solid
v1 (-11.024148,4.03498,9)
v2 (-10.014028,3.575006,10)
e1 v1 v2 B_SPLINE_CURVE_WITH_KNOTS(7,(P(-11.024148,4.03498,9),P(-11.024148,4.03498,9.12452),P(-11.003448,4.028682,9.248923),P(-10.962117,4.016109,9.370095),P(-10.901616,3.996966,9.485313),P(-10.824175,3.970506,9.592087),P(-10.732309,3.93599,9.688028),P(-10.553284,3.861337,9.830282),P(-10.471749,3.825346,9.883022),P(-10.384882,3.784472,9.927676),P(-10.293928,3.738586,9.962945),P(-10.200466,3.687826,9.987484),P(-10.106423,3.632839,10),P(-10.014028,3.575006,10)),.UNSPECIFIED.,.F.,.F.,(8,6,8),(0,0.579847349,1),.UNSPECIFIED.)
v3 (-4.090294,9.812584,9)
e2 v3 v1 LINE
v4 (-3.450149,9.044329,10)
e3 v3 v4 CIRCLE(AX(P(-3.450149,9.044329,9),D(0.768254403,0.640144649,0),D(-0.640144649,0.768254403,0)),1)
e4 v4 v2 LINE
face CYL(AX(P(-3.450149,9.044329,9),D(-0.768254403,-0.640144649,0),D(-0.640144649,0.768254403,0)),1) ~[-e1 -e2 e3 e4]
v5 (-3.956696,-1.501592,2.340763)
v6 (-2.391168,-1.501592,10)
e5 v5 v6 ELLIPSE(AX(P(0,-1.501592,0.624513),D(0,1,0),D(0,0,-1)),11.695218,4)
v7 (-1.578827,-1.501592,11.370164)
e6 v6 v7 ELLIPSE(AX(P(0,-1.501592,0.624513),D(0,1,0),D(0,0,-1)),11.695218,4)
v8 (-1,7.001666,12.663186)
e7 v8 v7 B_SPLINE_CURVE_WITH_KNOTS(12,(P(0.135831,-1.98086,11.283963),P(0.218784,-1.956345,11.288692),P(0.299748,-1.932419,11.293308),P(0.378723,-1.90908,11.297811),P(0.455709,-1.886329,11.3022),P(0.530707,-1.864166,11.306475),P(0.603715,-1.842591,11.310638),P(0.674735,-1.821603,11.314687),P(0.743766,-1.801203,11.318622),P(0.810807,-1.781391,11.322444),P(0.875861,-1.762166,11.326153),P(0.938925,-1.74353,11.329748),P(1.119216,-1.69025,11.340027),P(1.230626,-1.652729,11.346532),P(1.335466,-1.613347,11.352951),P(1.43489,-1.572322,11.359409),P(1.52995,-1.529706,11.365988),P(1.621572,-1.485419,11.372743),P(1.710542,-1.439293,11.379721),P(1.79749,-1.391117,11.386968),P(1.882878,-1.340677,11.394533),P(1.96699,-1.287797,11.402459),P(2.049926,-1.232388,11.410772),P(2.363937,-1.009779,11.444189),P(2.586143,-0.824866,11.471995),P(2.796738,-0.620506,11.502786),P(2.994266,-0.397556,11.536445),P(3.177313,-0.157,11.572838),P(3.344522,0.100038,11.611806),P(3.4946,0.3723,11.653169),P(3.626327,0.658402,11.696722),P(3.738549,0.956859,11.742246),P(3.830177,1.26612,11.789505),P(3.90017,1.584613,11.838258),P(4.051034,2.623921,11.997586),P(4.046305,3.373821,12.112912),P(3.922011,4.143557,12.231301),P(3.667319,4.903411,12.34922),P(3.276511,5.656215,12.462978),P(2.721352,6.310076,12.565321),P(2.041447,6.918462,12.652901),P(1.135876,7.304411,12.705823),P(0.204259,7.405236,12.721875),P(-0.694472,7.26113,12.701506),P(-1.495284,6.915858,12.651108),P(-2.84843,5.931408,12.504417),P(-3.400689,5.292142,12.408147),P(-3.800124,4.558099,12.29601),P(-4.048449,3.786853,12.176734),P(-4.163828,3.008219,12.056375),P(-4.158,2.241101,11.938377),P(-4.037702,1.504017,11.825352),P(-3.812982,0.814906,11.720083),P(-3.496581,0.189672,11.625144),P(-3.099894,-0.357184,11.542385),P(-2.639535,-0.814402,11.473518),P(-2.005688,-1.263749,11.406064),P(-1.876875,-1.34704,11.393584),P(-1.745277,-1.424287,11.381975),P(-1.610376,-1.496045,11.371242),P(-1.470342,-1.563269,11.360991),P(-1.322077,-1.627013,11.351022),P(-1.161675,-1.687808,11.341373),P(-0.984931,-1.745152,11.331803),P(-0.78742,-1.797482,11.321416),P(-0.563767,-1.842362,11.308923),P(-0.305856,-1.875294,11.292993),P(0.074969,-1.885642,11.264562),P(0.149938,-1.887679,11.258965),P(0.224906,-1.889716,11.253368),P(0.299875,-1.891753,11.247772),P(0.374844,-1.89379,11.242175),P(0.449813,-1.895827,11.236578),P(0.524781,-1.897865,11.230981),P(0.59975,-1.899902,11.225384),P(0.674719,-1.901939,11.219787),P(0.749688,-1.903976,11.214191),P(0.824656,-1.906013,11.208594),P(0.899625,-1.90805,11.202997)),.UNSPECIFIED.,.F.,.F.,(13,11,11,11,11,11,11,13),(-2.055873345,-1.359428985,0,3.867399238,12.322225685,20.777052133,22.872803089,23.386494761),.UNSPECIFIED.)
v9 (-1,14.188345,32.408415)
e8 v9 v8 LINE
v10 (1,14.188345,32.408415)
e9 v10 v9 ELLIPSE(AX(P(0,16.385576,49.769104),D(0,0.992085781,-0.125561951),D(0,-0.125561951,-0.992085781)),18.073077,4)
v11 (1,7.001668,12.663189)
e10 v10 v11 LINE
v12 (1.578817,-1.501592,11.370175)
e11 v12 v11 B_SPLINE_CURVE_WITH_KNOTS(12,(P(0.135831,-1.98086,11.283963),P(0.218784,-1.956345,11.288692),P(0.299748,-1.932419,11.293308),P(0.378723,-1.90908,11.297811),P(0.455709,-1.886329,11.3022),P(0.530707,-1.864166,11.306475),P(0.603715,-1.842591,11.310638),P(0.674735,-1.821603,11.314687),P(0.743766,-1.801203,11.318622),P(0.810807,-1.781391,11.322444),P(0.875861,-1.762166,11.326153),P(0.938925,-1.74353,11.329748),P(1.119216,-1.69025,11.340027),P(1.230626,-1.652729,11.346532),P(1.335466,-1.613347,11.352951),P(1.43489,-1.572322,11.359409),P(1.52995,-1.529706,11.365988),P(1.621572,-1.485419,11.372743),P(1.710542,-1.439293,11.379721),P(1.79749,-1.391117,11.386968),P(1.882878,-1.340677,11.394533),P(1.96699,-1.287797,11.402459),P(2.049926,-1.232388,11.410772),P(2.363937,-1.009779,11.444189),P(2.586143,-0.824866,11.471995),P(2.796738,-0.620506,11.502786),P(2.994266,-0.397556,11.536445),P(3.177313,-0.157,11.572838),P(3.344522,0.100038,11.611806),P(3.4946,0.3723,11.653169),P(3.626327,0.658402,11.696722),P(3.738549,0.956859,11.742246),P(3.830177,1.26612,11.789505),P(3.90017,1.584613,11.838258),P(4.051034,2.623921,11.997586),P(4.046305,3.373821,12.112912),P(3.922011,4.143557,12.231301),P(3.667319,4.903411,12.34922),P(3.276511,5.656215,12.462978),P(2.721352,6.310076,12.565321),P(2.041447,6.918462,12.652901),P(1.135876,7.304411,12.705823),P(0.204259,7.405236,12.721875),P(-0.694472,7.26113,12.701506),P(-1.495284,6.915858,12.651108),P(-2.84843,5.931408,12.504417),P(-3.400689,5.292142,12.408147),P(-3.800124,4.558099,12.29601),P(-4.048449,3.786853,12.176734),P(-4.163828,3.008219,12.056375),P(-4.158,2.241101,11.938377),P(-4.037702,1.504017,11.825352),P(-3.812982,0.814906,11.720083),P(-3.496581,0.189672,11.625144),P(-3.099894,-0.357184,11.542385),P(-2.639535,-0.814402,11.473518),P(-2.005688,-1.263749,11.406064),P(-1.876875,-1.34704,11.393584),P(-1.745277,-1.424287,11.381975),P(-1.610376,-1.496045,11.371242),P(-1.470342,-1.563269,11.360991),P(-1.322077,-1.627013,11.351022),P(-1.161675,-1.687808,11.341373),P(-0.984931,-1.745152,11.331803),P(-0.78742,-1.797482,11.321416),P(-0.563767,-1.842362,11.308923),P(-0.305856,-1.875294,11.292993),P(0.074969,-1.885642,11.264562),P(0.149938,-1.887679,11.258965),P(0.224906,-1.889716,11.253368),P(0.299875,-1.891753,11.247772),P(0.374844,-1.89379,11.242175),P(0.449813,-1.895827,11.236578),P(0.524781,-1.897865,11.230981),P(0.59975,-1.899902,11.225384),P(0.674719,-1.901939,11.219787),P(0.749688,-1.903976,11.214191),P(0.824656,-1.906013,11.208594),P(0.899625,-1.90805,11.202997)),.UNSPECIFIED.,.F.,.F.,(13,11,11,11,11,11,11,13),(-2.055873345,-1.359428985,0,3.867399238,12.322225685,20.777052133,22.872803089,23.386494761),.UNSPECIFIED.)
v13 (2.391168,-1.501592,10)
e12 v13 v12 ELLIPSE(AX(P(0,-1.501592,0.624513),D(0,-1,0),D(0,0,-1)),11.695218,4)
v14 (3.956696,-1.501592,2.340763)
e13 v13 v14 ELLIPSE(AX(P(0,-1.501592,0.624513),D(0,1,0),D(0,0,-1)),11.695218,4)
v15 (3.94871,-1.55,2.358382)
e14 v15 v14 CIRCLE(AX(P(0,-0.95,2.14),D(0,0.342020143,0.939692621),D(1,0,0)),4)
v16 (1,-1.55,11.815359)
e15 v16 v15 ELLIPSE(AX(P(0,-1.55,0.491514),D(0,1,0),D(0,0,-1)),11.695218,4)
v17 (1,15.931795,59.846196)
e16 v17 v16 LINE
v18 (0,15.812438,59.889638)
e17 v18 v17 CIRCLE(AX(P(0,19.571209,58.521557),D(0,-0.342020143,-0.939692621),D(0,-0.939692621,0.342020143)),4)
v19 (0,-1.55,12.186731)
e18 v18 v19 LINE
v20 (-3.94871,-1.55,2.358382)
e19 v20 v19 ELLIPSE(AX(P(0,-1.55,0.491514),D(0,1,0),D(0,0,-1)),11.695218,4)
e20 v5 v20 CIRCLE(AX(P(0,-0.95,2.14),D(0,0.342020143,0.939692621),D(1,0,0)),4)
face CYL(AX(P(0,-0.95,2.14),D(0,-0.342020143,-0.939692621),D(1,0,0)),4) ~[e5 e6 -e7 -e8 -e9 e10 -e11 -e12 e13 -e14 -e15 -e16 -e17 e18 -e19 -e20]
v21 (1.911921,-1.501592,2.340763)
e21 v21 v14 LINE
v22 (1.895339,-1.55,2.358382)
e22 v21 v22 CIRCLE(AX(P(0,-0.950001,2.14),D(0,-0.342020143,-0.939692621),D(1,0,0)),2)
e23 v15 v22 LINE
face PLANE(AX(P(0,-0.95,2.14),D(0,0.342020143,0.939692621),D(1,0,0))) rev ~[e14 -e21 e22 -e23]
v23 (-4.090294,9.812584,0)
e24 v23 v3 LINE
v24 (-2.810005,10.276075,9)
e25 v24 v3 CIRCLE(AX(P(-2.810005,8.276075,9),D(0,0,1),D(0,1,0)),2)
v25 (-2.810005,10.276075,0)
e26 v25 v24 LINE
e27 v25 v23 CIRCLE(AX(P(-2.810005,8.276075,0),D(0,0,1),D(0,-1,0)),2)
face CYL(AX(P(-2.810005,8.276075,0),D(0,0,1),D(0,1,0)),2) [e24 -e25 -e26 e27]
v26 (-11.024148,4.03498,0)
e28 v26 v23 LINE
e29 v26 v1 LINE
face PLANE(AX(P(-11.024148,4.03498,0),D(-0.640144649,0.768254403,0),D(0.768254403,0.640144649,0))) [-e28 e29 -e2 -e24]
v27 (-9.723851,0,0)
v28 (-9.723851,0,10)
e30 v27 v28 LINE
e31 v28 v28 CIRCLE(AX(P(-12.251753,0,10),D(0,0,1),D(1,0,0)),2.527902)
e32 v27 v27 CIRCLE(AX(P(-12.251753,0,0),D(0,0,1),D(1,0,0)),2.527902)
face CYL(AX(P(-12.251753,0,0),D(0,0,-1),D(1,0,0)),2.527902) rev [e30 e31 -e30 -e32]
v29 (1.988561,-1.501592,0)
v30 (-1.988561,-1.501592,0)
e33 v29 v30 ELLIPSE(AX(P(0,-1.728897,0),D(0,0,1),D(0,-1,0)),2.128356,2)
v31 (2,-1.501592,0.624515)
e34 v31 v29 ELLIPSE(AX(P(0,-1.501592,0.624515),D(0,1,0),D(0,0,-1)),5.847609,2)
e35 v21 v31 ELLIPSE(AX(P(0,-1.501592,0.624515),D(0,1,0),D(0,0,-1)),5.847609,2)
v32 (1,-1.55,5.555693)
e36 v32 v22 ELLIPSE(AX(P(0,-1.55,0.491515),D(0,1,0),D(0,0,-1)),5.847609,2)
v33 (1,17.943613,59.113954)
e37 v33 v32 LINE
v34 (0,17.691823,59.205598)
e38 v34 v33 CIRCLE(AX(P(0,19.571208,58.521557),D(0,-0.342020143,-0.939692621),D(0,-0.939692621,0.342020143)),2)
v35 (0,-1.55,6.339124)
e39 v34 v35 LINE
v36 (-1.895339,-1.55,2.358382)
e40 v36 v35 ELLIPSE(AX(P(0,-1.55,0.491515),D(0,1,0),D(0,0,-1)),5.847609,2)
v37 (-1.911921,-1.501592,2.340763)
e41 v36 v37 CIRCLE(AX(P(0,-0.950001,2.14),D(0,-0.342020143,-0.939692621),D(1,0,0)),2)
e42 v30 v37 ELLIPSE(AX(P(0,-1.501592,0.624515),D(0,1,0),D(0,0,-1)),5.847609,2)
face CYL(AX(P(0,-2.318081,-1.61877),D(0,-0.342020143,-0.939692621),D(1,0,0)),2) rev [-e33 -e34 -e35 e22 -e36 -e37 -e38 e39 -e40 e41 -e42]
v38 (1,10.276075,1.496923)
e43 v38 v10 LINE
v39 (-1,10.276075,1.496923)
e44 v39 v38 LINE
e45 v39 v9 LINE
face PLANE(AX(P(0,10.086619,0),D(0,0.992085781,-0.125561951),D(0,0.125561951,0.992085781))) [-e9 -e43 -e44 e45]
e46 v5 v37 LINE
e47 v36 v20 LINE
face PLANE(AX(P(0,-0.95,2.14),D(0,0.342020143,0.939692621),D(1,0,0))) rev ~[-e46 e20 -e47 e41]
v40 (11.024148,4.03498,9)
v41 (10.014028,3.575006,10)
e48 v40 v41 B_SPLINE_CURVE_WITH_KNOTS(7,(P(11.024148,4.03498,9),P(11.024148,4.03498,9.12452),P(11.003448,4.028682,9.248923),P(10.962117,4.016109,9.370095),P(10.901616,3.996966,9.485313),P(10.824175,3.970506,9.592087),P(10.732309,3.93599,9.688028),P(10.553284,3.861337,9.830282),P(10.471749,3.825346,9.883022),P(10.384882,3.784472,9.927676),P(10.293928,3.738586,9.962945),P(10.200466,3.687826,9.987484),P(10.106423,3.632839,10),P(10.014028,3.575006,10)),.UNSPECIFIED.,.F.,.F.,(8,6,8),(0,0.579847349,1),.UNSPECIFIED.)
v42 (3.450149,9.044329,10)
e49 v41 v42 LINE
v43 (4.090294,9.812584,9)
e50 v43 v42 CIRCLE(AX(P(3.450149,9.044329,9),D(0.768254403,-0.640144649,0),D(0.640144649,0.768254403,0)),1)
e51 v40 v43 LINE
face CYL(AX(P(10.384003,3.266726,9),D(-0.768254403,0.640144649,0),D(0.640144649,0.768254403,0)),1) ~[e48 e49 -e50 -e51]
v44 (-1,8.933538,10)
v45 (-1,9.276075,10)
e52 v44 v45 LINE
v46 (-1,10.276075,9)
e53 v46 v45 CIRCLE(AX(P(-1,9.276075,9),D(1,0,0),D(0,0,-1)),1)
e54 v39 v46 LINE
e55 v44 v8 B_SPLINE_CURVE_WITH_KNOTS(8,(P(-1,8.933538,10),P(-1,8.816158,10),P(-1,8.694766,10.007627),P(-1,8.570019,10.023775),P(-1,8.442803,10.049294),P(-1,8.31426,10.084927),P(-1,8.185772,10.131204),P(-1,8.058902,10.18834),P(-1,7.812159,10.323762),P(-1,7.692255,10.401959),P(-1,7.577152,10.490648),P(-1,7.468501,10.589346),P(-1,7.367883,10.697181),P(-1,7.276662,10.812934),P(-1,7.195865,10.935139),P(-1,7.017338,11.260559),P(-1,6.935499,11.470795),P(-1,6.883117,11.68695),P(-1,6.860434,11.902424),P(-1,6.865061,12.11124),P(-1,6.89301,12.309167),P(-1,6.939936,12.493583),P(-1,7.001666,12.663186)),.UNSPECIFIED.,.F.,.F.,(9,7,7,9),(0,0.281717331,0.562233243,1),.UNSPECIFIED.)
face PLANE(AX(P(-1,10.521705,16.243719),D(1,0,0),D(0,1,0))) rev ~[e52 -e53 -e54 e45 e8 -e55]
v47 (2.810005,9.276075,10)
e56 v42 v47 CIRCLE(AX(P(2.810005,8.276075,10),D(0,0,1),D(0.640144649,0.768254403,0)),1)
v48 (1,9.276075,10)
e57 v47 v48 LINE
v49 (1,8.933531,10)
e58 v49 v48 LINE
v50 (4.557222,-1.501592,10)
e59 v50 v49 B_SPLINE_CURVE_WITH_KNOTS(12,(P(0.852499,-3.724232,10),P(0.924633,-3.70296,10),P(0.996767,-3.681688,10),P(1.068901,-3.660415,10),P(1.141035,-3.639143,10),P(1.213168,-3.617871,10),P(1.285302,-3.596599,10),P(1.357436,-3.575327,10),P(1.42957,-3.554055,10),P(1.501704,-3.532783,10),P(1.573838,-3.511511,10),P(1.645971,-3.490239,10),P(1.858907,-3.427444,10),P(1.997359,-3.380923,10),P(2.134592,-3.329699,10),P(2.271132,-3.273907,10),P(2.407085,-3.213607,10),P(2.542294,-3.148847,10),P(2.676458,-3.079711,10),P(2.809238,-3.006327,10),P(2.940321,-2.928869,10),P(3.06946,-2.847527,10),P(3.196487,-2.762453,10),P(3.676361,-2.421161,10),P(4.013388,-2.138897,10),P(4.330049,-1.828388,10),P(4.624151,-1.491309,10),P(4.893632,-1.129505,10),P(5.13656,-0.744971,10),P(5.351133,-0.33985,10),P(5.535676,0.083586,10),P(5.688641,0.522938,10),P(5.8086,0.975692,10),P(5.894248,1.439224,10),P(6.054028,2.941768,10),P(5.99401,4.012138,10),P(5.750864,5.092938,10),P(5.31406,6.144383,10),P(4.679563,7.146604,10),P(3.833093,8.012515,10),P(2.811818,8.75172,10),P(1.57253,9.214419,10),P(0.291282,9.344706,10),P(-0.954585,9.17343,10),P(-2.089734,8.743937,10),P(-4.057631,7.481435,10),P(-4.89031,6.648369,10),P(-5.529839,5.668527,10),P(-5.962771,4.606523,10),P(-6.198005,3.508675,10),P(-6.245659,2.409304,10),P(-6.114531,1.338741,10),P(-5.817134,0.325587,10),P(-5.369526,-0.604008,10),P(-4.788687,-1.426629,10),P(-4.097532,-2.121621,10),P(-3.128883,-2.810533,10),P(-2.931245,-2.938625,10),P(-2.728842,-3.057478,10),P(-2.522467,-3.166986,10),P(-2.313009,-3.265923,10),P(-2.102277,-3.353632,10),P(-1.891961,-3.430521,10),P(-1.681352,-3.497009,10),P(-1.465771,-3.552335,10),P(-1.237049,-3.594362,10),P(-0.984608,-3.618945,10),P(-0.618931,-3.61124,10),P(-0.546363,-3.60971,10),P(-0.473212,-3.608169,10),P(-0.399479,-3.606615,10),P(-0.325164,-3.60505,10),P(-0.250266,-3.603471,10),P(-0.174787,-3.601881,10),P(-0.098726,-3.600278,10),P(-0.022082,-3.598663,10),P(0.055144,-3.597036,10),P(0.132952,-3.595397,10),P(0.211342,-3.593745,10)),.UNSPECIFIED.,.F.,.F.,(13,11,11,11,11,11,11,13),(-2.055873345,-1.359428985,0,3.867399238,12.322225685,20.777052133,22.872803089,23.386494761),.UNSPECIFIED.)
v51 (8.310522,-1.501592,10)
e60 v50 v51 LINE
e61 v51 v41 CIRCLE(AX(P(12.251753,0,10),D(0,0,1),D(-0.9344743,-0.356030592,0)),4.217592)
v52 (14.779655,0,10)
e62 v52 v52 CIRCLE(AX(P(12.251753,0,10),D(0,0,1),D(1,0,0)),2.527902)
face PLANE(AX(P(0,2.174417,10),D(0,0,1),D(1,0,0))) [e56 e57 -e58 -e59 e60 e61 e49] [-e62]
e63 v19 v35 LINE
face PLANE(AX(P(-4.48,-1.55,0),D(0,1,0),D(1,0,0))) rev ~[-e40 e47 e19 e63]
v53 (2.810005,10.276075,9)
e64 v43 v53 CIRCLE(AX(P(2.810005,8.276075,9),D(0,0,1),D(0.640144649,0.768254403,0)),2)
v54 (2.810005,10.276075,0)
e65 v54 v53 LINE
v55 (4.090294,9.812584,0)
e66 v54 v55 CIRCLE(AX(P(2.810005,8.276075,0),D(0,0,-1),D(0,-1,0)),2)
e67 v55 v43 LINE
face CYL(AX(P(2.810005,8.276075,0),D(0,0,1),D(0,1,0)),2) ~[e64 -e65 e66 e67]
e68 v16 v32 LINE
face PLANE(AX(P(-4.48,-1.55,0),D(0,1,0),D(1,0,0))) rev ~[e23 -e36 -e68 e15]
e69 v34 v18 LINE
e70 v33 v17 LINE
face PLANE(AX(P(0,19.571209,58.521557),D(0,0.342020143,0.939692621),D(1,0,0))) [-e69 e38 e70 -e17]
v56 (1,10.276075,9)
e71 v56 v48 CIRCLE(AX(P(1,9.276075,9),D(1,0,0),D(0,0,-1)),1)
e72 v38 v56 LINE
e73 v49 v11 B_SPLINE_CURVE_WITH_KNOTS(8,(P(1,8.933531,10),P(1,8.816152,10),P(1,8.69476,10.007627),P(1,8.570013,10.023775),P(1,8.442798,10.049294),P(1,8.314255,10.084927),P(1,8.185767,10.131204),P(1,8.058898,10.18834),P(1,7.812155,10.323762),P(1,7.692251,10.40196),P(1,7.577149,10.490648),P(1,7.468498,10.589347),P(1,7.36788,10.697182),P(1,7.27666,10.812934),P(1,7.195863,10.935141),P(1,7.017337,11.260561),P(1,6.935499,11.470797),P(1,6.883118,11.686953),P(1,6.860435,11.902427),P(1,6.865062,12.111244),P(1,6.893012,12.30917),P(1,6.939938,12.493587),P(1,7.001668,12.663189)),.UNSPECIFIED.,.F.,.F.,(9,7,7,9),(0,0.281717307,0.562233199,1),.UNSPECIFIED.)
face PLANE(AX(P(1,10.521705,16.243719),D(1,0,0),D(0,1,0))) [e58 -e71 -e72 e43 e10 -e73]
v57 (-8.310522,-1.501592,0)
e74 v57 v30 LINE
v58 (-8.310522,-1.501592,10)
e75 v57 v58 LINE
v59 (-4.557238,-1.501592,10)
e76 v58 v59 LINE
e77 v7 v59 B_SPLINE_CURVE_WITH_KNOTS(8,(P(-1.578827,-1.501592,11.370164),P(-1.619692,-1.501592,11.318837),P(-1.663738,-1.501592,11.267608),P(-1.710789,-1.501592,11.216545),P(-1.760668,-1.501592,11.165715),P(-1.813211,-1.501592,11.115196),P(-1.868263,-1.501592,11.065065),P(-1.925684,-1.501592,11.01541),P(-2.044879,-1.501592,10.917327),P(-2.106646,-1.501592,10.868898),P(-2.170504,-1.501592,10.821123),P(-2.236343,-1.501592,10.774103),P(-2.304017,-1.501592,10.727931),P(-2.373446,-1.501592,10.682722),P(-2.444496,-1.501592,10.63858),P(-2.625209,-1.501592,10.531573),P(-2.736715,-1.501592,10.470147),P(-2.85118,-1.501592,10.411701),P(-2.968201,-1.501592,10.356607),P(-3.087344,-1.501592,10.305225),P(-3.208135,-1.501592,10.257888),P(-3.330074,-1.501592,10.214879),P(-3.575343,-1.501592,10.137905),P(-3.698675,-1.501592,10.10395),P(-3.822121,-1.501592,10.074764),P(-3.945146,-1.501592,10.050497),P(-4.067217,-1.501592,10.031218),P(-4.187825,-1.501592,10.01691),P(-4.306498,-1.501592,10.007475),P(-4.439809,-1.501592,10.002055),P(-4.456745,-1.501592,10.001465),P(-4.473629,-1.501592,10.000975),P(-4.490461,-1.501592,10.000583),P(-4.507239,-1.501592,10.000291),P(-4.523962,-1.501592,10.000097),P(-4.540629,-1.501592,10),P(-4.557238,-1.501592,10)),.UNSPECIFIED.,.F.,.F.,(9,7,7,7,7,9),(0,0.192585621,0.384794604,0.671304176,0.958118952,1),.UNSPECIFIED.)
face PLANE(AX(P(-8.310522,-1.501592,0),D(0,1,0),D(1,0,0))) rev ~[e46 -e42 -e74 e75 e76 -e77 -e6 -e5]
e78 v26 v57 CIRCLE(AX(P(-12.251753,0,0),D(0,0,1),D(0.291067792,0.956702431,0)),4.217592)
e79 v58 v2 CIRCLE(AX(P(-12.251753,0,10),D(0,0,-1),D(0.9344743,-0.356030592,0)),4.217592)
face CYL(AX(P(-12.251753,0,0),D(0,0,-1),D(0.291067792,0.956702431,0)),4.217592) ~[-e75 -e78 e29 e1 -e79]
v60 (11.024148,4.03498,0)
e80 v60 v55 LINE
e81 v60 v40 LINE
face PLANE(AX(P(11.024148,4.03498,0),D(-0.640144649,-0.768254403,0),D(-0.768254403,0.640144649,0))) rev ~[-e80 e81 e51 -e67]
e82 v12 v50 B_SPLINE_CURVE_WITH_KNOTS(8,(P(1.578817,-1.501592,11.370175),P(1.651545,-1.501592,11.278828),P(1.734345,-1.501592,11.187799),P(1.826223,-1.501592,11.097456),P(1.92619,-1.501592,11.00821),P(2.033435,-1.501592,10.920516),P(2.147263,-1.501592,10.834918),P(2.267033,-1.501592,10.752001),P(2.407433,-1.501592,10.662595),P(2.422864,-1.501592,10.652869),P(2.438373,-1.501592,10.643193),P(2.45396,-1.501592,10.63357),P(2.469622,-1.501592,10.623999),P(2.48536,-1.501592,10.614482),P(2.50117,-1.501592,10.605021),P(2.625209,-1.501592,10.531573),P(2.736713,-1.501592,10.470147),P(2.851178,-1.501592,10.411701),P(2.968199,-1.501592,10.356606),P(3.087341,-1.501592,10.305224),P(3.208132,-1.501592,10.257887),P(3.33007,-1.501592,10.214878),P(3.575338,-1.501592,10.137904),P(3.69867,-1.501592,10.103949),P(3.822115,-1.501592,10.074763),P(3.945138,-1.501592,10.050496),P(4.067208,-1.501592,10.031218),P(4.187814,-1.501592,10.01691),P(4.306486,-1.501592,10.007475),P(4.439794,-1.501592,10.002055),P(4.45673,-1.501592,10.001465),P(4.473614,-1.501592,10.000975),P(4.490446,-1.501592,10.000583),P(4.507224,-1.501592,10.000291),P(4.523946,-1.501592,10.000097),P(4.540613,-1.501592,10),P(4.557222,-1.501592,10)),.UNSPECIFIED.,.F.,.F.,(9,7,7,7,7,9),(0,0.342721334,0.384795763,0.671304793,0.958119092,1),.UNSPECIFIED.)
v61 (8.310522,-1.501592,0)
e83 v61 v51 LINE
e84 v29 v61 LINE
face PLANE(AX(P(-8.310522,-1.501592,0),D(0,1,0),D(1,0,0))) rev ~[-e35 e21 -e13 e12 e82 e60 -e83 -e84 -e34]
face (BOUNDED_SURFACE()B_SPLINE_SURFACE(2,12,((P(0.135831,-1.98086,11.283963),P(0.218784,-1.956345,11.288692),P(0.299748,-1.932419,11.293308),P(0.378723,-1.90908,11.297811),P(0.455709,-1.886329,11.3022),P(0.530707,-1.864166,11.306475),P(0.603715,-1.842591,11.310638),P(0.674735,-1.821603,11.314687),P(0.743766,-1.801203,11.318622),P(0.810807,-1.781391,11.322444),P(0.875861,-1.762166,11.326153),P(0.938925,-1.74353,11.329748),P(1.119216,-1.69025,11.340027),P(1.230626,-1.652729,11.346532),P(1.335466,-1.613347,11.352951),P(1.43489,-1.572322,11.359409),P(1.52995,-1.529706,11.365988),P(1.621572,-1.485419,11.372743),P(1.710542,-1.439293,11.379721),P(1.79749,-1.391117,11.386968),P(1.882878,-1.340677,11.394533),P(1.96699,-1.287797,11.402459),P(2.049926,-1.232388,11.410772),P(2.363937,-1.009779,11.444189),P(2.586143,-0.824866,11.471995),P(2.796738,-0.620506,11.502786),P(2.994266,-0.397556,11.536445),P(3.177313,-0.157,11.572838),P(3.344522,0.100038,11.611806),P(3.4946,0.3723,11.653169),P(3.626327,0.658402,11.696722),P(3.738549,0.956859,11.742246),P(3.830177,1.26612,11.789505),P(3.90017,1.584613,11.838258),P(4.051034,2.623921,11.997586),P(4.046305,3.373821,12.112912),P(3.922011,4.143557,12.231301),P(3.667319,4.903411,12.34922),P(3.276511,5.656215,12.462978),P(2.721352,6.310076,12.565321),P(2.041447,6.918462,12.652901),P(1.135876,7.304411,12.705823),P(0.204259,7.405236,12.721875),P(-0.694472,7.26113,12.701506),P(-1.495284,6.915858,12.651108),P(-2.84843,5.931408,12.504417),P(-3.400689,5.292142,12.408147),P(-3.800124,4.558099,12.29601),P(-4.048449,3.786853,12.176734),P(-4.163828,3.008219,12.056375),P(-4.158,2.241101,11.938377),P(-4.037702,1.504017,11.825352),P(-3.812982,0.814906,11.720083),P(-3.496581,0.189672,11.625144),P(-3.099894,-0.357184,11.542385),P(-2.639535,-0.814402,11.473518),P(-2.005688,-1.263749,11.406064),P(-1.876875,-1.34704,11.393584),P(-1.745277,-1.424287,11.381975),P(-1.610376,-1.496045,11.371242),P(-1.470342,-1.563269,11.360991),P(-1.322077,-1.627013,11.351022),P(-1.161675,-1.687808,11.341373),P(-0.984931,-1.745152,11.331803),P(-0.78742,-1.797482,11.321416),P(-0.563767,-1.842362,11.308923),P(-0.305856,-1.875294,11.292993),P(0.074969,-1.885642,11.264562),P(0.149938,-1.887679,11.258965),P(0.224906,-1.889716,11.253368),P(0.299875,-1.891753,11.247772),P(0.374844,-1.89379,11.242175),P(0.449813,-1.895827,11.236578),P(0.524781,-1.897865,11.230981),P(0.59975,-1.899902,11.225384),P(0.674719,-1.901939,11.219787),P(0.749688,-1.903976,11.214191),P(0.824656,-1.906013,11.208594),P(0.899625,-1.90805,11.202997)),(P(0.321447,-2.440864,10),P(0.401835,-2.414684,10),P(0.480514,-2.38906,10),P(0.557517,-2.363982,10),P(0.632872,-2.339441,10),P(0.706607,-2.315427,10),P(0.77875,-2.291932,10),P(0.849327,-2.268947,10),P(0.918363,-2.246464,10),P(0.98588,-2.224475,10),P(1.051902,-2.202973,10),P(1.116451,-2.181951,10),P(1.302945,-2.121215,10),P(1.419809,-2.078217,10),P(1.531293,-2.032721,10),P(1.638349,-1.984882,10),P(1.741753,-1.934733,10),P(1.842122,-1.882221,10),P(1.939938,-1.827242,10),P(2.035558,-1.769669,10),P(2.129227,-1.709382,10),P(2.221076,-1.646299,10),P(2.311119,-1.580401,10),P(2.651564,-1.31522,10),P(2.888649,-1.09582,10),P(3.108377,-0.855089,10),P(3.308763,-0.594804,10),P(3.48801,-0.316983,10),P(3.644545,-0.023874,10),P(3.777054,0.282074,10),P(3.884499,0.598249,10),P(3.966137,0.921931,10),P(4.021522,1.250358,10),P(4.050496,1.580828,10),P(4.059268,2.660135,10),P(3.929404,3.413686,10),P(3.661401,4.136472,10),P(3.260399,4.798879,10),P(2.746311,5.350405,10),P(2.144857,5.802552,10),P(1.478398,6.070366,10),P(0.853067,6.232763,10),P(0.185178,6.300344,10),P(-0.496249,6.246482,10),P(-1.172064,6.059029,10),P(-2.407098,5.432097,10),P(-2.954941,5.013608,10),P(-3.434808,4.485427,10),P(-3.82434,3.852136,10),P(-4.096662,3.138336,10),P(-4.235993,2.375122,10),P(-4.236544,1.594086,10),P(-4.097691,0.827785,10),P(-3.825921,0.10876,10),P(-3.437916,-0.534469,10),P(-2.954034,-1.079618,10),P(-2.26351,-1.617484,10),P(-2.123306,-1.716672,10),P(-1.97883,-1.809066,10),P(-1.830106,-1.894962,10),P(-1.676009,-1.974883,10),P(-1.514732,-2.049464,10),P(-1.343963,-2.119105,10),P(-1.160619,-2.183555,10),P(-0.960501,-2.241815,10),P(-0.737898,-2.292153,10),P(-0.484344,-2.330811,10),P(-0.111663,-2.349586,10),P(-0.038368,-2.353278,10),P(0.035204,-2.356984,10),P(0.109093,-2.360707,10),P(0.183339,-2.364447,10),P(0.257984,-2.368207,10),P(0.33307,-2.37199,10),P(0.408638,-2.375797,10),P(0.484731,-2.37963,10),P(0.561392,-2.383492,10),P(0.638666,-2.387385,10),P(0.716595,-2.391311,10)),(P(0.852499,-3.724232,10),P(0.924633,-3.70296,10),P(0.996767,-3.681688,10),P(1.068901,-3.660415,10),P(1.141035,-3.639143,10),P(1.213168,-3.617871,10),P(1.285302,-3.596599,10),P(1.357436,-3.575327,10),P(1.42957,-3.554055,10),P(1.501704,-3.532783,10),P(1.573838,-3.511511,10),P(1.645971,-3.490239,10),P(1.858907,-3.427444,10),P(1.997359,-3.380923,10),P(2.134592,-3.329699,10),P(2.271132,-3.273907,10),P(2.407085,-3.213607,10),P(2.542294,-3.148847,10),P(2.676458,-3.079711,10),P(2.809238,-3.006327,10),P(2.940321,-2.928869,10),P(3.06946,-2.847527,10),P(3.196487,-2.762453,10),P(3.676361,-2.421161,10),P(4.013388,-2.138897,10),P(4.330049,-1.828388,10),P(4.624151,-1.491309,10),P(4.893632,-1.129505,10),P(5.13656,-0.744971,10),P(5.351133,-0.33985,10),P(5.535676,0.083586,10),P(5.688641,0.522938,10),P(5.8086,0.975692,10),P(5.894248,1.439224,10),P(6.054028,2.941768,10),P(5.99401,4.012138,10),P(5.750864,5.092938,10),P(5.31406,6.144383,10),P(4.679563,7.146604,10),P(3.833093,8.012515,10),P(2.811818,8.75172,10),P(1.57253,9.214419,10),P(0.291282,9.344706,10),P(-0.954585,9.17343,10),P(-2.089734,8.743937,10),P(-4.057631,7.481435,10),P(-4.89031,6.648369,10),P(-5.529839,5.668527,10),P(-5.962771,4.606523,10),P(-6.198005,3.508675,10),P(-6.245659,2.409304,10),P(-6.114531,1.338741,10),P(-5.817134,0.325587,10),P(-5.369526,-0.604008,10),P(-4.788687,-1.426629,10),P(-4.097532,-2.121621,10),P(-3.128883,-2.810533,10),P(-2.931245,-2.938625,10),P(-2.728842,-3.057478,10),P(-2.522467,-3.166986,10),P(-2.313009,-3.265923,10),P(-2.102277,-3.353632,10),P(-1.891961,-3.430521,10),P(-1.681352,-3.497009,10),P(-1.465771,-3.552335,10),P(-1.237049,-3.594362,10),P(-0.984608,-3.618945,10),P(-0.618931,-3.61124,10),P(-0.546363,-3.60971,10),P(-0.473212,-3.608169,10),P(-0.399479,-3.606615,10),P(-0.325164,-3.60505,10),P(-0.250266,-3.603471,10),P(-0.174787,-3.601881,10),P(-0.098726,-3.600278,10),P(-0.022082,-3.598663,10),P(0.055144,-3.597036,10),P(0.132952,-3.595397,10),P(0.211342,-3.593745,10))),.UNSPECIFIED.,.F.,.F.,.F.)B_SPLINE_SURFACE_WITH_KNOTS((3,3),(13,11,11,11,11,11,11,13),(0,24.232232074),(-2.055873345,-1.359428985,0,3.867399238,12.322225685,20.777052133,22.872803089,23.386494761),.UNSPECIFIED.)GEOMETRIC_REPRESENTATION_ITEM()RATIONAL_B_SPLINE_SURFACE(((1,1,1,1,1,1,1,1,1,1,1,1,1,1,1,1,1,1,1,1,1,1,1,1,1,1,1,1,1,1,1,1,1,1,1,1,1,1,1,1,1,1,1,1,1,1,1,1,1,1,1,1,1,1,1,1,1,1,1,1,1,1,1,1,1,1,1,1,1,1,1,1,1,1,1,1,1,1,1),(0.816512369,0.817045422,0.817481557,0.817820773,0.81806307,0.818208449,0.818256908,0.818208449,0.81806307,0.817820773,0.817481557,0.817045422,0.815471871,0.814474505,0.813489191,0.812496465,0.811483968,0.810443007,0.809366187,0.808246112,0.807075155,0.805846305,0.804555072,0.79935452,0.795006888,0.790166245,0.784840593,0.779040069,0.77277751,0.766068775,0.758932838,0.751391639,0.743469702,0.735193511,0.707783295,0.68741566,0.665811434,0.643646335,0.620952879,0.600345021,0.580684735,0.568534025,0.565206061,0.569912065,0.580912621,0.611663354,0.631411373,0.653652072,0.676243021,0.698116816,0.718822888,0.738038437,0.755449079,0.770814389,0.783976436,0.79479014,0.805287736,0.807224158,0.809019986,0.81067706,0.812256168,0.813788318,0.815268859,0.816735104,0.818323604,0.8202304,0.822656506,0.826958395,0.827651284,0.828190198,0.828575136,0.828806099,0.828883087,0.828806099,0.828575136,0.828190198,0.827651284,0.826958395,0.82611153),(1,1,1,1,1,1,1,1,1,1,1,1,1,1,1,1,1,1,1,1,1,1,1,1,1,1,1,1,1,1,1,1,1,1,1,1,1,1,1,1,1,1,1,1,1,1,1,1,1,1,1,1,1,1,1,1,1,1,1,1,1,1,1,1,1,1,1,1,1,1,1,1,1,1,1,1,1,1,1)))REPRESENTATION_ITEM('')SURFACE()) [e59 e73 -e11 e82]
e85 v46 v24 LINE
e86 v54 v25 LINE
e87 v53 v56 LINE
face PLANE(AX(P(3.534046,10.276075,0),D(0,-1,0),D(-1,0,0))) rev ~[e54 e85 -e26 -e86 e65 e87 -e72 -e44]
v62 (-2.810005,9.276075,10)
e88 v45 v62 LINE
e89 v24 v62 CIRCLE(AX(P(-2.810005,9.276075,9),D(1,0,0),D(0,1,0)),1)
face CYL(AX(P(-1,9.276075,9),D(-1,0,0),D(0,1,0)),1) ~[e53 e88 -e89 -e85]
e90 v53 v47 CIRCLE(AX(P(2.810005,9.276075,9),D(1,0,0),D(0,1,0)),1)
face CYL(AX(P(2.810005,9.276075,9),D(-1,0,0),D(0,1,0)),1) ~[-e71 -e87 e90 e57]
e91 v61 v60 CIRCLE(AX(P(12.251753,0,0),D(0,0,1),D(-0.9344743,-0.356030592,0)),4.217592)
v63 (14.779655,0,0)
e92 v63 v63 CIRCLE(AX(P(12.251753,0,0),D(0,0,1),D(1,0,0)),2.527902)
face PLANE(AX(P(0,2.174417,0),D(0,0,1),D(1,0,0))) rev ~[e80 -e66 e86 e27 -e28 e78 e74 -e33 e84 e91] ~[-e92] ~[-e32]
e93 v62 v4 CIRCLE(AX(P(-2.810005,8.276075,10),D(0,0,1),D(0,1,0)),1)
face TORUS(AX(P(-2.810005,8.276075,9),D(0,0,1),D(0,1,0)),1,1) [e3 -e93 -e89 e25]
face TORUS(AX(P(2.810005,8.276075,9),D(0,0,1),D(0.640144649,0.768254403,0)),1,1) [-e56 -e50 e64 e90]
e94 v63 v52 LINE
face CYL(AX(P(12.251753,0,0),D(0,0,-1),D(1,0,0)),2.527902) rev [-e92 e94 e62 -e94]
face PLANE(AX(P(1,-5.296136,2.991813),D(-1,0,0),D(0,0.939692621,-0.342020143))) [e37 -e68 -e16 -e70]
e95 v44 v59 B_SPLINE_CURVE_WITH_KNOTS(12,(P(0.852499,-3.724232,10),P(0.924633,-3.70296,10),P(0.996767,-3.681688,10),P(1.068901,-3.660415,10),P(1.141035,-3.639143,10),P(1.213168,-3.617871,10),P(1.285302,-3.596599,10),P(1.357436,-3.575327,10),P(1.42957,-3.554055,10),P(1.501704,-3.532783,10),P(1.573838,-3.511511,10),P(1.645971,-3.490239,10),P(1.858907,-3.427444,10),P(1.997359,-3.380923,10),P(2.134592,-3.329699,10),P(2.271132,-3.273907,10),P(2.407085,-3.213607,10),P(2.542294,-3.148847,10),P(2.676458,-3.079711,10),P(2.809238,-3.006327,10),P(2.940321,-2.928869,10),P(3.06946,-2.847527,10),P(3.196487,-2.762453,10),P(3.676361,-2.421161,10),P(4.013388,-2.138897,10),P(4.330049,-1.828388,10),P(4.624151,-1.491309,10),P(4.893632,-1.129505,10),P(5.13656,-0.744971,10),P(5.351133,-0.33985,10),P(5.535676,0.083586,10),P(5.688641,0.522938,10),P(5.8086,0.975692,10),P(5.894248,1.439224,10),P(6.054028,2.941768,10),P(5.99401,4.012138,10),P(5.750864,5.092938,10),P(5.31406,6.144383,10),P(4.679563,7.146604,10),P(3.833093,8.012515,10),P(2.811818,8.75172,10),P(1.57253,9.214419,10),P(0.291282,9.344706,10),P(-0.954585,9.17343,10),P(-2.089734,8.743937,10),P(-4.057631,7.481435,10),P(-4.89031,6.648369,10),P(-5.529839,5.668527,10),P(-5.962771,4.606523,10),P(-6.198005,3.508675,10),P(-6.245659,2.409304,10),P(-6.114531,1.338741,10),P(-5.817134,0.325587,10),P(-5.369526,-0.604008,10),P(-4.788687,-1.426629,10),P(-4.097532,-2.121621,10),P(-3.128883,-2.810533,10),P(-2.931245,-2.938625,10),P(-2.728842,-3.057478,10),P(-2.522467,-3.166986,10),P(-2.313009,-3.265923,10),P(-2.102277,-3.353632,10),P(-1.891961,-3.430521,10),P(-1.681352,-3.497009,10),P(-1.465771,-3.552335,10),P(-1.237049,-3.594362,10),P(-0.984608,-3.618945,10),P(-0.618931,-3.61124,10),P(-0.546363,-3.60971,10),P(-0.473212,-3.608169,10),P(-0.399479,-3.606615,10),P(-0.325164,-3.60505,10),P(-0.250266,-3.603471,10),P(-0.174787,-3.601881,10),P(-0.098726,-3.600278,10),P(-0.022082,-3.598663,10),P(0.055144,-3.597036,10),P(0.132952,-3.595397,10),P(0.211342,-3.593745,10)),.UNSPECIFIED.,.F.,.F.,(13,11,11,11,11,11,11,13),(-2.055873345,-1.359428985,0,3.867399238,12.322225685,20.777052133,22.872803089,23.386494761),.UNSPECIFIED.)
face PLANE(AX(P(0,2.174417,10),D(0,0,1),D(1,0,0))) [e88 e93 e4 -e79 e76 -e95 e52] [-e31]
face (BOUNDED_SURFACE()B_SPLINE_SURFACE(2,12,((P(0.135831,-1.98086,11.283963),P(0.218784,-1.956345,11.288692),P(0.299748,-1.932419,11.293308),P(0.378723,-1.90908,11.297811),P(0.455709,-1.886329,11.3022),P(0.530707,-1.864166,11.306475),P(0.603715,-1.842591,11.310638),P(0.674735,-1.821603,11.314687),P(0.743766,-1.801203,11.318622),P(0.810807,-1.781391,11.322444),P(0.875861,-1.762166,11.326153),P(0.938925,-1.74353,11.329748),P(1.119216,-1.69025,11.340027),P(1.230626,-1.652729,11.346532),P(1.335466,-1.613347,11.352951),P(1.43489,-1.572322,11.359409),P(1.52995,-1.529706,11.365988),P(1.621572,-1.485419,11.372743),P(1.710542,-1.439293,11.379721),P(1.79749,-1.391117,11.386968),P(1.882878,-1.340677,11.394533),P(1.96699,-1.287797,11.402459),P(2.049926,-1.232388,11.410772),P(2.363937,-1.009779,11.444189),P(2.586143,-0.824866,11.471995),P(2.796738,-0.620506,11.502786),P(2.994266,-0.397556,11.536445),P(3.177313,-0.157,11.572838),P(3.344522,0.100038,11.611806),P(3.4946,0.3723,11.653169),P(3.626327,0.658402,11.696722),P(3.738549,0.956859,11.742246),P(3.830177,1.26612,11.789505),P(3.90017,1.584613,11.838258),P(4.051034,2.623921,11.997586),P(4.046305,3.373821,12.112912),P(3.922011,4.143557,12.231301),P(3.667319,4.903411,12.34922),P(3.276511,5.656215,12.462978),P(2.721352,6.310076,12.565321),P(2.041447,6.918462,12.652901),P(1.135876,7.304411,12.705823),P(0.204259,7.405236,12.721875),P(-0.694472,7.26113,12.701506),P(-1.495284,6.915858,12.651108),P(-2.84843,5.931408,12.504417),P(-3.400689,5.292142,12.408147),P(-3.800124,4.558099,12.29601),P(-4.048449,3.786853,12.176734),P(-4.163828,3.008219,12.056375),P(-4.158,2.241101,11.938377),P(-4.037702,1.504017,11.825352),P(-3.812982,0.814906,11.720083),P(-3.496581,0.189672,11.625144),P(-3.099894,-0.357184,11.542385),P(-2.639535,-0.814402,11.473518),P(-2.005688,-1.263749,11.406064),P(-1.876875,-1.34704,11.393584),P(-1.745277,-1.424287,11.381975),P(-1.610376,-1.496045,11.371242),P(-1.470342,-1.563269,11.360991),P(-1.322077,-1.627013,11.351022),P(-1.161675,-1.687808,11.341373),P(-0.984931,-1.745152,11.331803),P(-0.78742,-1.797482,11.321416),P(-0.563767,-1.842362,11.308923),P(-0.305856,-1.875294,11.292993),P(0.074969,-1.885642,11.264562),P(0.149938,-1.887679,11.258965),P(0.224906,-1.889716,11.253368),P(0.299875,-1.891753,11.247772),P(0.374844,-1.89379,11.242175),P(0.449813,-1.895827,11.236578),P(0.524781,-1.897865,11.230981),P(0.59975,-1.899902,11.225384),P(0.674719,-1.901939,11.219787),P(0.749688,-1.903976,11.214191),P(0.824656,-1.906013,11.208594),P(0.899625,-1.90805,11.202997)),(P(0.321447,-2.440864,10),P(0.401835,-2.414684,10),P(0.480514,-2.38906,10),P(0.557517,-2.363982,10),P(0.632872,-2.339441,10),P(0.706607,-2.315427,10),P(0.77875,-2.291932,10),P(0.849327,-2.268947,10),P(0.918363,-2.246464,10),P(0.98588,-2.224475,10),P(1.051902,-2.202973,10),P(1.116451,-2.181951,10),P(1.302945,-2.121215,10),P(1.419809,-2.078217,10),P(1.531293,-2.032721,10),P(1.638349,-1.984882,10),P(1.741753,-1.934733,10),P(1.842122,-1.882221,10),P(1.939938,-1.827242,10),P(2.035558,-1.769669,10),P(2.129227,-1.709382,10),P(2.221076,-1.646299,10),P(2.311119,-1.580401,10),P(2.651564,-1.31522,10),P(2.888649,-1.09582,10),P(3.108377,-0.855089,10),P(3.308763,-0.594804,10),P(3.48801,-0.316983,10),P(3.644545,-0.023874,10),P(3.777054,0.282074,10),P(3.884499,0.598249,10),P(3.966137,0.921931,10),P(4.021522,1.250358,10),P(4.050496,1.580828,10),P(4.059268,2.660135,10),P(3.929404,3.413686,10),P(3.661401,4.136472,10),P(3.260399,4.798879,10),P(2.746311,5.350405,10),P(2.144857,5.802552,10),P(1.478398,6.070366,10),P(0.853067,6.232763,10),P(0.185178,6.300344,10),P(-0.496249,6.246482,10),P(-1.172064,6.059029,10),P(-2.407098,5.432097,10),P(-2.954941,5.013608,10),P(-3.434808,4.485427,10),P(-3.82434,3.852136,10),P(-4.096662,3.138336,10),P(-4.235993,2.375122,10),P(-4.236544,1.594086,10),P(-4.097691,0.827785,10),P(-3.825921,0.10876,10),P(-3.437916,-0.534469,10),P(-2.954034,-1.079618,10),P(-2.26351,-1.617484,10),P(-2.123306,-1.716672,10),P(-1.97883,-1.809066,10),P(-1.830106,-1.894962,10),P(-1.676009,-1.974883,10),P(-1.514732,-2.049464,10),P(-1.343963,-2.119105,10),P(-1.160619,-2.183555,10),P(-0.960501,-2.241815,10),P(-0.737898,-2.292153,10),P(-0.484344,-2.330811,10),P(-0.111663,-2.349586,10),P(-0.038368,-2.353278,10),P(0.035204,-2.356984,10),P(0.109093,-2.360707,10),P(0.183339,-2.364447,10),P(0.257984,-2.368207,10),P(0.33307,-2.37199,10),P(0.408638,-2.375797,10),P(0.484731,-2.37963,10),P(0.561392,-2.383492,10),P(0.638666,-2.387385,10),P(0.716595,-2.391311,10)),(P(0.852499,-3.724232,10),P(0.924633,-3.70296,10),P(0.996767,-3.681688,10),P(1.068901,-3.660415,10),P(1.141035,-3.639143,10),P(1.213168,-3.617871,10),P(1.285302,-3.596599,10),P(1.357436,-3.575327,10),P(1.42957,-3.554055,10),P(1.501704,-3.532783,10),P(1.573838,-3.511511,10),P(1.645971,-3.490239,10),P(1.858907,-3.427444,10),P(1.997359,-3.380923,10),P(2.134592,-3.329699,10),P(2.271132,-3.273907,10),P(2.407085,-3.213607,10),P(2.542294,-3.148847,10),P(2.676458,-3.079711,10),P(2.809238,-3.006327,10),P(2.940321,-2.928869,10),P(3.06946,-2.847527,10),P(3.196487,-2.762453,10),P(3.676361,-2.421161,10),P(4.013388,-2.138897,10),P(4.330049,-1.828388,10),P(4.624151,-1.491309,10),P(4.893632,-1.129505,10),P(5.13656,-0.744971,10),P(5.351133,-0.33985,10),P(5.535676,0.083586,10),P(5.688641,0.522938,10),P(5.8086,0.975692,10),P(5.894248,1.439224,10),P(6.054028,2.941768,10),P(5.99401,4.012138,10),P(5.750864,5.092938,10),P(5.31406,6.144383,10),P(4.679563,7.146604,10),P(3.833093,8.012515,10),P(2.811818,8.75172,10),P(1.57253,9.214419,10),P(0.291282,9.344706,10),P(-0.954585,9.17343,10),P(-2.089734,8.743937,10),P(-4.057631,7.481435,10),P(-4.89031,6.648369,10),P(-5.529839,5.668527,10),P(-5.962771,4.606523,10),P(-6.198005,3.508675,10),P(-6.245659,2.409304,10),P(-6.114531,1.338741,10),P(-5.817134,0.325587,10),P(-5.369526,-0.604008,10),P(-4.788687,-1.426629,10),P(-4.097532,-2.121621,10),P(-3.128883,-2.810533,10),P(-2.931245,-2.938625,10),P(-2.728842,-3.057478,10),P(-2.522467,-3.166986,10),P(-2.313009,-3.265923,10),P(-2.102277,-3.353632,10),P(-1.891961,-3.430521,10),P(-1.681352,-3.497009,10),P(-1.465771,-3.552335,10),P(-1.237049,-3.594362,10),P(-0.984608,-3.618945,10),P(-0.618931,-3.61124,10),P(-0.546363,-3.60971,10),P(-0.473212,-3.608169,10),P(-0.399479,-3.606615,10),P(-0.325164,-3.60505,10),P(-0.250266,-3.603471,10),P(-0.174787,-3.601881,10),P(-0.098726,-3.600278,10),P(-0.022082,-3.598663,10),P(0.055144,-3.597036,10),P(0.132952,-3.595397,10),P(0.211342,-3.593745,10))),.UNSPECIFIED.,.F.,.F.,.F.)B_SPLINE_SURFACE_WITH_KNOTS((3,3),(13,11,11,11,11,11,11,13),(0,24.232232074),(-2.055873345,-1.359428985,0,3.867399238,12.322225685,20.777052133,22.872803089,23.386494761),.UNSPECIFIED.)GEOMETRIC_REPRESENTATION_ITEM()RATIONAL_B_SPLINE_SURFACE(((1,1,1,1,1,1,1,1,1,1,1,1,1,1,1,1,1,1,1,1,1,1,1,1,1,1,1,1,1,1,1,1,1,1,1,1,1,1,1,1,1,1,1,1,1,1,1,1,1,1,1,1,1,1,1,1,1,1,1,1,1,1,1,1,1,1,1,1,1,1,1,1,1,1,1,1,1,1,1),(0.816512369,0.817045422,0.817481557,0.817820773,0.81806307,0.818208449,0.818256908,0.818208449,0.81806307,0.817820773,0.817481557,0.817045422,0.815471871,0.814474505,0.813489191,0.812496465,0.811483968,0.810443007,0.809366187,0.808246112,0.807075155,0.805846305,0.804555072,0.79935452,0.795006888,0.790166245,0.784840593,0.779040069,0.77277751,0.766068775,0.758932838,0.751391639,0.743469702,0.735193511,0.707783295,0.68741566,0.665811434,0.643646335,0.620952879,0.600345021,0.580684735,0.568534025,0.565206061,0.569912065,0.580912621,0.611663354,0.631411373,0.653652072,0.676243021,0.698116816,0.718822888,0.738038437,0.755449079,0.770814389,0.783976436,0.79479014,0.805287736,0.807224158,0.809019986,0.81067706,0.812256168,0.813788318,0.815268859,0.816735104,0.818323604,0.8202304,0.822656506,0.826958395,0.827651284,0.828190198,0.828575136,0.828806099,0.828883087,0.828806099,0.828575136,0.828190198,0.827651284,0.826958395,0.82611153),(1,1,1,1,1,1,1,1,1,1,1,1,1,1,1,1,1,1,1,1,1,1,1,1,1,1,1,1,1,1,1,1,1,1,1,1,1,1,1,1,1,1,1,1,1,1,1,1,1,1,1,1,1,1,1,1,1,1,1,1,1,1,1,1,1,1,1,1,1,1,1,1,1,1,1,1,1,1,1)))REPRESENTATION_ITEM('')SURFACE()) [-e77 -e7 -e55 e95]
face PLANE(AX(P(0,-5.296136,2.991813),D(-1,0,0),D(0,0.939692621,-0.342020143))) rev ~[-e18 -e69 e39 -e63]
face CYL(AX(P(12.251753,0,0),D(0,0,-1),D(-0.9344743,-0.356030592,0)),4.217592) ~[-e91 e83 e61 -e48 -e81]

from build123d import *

# Parameters (mm, degrees)
BOX001_W                    = 10
BOX001_H                    = 10
BOX001_DEPTH                = 18
PAD001_DEPTH                = 1
BOX_W                       = 1
BOX_H                       = 4
BOX_DEPTH                   = 62
BOX_PLACEMENT_ANGLE         = 340
CYLINDER_R                  = 2
CYLINDER_DEPTH              = 67
CYLINDER_PLACEMENT_ANGLE    = 340
CYLINDER001_R               = 4
CYLINDER001_DEPTH           = 60
CYLINDER001_PLACEMENT_ANGLE = 20
SKETCH_R                    = 2.527902
PAD_DEPTH                   = 10
FILLET_R                    = 2
FILLET001_R                 = 2
FILLET002_R                 = 2
FILLET004_R                 = 1


with BuildPart() as box001:
    # Box001 → Box001 (new body)
    with BuildSketch(Plane(origin=(-4.48, -1.55, 0), x_dir=(0, -1, 0), z_dir=(0, 0, 1))):
        with Locations((5, 5)):
            Rectangle(BOX001_W, BOX001_H)
    extrude(amount=BOX001_DEPTH)


with BuildPart() as body001:
    # Sketch001 → Pad001 (new body, symmetric)
    with BuildSketch(Plane.YZ):
        Polygon((11.126045, 25.12734), (5.15667, 9.780665), (10.086619, 0), (14.214679, 32.616486), align=None)
    extrude(amount=PAD001_DEPTH, both=True)


with BuildPart() as box:
    # Box → Box (new body)
    with BuildSketch(Plane.XY):
        with Locations((0.5, 2)):
            Rectangle(BOX_W, BOX_H)
    extrude(amount=BOX_DEPTH)


with BuildPart() as box_1:
    # Box placement: moved
    add(box.part.moved(Location((0, -5.296136, 2.991813))).rotate(Axis((0, -5.296136, 2.991813), (1, 0, 0)), BOX_PLACEMENT_ANGLE))


with BuildPart() as cylinder:
    # Cylinder → Cylinder (new body)
    with BuildSketch(Plane.XY):
        Circle(CYLINDER_R)
    extrude(amount=CYLINDER_DEPTH)


with BuildPart() as cylinder_1:
    # Cylinder placement: moved
    add(cylinder.part.moved(Location((0, -2.318081, -1.61877))).rotate(Axis((0, -2.318081, -1.61877), (1, 0, 0)), CYLINDER_PLACEMENT_ANGLE))


with BuildPart() as cylinder001:
    # Cylinder001 → Cylinder001 (new body)
    with BuildSketch(Plane.XY):
        Circle(CYLINDER001_R)
    extrude(amount=CYLINDER001_DEPTH)


with BuildPart() as cylinder001_1:
    # Cylinder001 placement: moved
    add(cylinder001.part.moved(Location((0, -0.95, 2.14))).rotate(Axis((0, -0.95, 2.14), (-1, 0, 0)), CYLINDER001_PLACEMENT_ANGLE))


with BuildPart() as cut002:
    # Sketch → Pad (new body)
    with BuildSketch(Plane.XY):
        with BuildLine():
            ThreePointArc((-11.024148, 4.03498), (-16.038919, -1.856194), (-8.310522, -1.501592))
            Line((-8.310522, -1.501592), (0, -1.501592))
            Line((8.310522, -1.501592), (0, -1.501592))
            ThreePointArc((8.310522, -1.501592), (16.038919, -1.856194), (11.024148, 4.03498))
            Line((11.024148, 4.03498), (3.534046, 10.276075))
            Line((3.534046, 10.276075), (0, 10.276075))
            Line((-3.534046, 10.276075), (0, 10.276075))
            Line((-11.024148, 4.03498), (-3.534046, 10.276075))
        make_face()
        with Locations((-12.251753, 0)):
            Circle(SKETCH_R, mode=Mode.SUBTRACT)
        with Locations((12.251753, 0)):
            Circle(SKETCH_R, mode=Mode.SUBTRACT)
    extrude(amount=PAD_DEPTH)

    # Fusion: union Cylinder001
    add(cylinder001_1.part)

    # Cut: cut Cylinder
    add(cylinder_1.part, mode=Mode.SUBTRACT)

    # Cut001: cut Box
    add(box_1.part, mode=Mode.SUBTRACT)

    # Fillet
    fillet_edges = [cut002.edges().sort_by_distance(p)[0] for p in [
        (-1.866147, 5.675875, 10),
    ]]
    fillet(fillet_edges, radius=FILLET_R)

    # Fusion001: union Body001
    add(body001.part)

    # Fillet001
    fillet001_edges = [cut002.edges().sort_by_distance(p)[0] for p in [
        (-3.534046, 10.276075, 5),
    ]]
    fillet(fillet001_edges, radius=FILLET001_R)

    # Fillet002
    fillet002_edges = [cut002.edges().sort_by_distance(p)[0] for p in [
        (3.534046, 10.276075, 5),
    ]]
    fillet(fillet002_edges, radius=FILLET002_R)

    # Fillet004
    fillet004_edges = [cut002.edges().sort_by_distance(p)[0] for p in [
        (1.905002, 10.276075, 10),
        (-1.905002, 10.276075, 10),
    ]]
    fillet(fillet004_edges, radius=FILLET004_R)

    # Cut002: cut Box001
    add(box001.part, mode=Mode.SUBTRACT)


solid = cut002.part
